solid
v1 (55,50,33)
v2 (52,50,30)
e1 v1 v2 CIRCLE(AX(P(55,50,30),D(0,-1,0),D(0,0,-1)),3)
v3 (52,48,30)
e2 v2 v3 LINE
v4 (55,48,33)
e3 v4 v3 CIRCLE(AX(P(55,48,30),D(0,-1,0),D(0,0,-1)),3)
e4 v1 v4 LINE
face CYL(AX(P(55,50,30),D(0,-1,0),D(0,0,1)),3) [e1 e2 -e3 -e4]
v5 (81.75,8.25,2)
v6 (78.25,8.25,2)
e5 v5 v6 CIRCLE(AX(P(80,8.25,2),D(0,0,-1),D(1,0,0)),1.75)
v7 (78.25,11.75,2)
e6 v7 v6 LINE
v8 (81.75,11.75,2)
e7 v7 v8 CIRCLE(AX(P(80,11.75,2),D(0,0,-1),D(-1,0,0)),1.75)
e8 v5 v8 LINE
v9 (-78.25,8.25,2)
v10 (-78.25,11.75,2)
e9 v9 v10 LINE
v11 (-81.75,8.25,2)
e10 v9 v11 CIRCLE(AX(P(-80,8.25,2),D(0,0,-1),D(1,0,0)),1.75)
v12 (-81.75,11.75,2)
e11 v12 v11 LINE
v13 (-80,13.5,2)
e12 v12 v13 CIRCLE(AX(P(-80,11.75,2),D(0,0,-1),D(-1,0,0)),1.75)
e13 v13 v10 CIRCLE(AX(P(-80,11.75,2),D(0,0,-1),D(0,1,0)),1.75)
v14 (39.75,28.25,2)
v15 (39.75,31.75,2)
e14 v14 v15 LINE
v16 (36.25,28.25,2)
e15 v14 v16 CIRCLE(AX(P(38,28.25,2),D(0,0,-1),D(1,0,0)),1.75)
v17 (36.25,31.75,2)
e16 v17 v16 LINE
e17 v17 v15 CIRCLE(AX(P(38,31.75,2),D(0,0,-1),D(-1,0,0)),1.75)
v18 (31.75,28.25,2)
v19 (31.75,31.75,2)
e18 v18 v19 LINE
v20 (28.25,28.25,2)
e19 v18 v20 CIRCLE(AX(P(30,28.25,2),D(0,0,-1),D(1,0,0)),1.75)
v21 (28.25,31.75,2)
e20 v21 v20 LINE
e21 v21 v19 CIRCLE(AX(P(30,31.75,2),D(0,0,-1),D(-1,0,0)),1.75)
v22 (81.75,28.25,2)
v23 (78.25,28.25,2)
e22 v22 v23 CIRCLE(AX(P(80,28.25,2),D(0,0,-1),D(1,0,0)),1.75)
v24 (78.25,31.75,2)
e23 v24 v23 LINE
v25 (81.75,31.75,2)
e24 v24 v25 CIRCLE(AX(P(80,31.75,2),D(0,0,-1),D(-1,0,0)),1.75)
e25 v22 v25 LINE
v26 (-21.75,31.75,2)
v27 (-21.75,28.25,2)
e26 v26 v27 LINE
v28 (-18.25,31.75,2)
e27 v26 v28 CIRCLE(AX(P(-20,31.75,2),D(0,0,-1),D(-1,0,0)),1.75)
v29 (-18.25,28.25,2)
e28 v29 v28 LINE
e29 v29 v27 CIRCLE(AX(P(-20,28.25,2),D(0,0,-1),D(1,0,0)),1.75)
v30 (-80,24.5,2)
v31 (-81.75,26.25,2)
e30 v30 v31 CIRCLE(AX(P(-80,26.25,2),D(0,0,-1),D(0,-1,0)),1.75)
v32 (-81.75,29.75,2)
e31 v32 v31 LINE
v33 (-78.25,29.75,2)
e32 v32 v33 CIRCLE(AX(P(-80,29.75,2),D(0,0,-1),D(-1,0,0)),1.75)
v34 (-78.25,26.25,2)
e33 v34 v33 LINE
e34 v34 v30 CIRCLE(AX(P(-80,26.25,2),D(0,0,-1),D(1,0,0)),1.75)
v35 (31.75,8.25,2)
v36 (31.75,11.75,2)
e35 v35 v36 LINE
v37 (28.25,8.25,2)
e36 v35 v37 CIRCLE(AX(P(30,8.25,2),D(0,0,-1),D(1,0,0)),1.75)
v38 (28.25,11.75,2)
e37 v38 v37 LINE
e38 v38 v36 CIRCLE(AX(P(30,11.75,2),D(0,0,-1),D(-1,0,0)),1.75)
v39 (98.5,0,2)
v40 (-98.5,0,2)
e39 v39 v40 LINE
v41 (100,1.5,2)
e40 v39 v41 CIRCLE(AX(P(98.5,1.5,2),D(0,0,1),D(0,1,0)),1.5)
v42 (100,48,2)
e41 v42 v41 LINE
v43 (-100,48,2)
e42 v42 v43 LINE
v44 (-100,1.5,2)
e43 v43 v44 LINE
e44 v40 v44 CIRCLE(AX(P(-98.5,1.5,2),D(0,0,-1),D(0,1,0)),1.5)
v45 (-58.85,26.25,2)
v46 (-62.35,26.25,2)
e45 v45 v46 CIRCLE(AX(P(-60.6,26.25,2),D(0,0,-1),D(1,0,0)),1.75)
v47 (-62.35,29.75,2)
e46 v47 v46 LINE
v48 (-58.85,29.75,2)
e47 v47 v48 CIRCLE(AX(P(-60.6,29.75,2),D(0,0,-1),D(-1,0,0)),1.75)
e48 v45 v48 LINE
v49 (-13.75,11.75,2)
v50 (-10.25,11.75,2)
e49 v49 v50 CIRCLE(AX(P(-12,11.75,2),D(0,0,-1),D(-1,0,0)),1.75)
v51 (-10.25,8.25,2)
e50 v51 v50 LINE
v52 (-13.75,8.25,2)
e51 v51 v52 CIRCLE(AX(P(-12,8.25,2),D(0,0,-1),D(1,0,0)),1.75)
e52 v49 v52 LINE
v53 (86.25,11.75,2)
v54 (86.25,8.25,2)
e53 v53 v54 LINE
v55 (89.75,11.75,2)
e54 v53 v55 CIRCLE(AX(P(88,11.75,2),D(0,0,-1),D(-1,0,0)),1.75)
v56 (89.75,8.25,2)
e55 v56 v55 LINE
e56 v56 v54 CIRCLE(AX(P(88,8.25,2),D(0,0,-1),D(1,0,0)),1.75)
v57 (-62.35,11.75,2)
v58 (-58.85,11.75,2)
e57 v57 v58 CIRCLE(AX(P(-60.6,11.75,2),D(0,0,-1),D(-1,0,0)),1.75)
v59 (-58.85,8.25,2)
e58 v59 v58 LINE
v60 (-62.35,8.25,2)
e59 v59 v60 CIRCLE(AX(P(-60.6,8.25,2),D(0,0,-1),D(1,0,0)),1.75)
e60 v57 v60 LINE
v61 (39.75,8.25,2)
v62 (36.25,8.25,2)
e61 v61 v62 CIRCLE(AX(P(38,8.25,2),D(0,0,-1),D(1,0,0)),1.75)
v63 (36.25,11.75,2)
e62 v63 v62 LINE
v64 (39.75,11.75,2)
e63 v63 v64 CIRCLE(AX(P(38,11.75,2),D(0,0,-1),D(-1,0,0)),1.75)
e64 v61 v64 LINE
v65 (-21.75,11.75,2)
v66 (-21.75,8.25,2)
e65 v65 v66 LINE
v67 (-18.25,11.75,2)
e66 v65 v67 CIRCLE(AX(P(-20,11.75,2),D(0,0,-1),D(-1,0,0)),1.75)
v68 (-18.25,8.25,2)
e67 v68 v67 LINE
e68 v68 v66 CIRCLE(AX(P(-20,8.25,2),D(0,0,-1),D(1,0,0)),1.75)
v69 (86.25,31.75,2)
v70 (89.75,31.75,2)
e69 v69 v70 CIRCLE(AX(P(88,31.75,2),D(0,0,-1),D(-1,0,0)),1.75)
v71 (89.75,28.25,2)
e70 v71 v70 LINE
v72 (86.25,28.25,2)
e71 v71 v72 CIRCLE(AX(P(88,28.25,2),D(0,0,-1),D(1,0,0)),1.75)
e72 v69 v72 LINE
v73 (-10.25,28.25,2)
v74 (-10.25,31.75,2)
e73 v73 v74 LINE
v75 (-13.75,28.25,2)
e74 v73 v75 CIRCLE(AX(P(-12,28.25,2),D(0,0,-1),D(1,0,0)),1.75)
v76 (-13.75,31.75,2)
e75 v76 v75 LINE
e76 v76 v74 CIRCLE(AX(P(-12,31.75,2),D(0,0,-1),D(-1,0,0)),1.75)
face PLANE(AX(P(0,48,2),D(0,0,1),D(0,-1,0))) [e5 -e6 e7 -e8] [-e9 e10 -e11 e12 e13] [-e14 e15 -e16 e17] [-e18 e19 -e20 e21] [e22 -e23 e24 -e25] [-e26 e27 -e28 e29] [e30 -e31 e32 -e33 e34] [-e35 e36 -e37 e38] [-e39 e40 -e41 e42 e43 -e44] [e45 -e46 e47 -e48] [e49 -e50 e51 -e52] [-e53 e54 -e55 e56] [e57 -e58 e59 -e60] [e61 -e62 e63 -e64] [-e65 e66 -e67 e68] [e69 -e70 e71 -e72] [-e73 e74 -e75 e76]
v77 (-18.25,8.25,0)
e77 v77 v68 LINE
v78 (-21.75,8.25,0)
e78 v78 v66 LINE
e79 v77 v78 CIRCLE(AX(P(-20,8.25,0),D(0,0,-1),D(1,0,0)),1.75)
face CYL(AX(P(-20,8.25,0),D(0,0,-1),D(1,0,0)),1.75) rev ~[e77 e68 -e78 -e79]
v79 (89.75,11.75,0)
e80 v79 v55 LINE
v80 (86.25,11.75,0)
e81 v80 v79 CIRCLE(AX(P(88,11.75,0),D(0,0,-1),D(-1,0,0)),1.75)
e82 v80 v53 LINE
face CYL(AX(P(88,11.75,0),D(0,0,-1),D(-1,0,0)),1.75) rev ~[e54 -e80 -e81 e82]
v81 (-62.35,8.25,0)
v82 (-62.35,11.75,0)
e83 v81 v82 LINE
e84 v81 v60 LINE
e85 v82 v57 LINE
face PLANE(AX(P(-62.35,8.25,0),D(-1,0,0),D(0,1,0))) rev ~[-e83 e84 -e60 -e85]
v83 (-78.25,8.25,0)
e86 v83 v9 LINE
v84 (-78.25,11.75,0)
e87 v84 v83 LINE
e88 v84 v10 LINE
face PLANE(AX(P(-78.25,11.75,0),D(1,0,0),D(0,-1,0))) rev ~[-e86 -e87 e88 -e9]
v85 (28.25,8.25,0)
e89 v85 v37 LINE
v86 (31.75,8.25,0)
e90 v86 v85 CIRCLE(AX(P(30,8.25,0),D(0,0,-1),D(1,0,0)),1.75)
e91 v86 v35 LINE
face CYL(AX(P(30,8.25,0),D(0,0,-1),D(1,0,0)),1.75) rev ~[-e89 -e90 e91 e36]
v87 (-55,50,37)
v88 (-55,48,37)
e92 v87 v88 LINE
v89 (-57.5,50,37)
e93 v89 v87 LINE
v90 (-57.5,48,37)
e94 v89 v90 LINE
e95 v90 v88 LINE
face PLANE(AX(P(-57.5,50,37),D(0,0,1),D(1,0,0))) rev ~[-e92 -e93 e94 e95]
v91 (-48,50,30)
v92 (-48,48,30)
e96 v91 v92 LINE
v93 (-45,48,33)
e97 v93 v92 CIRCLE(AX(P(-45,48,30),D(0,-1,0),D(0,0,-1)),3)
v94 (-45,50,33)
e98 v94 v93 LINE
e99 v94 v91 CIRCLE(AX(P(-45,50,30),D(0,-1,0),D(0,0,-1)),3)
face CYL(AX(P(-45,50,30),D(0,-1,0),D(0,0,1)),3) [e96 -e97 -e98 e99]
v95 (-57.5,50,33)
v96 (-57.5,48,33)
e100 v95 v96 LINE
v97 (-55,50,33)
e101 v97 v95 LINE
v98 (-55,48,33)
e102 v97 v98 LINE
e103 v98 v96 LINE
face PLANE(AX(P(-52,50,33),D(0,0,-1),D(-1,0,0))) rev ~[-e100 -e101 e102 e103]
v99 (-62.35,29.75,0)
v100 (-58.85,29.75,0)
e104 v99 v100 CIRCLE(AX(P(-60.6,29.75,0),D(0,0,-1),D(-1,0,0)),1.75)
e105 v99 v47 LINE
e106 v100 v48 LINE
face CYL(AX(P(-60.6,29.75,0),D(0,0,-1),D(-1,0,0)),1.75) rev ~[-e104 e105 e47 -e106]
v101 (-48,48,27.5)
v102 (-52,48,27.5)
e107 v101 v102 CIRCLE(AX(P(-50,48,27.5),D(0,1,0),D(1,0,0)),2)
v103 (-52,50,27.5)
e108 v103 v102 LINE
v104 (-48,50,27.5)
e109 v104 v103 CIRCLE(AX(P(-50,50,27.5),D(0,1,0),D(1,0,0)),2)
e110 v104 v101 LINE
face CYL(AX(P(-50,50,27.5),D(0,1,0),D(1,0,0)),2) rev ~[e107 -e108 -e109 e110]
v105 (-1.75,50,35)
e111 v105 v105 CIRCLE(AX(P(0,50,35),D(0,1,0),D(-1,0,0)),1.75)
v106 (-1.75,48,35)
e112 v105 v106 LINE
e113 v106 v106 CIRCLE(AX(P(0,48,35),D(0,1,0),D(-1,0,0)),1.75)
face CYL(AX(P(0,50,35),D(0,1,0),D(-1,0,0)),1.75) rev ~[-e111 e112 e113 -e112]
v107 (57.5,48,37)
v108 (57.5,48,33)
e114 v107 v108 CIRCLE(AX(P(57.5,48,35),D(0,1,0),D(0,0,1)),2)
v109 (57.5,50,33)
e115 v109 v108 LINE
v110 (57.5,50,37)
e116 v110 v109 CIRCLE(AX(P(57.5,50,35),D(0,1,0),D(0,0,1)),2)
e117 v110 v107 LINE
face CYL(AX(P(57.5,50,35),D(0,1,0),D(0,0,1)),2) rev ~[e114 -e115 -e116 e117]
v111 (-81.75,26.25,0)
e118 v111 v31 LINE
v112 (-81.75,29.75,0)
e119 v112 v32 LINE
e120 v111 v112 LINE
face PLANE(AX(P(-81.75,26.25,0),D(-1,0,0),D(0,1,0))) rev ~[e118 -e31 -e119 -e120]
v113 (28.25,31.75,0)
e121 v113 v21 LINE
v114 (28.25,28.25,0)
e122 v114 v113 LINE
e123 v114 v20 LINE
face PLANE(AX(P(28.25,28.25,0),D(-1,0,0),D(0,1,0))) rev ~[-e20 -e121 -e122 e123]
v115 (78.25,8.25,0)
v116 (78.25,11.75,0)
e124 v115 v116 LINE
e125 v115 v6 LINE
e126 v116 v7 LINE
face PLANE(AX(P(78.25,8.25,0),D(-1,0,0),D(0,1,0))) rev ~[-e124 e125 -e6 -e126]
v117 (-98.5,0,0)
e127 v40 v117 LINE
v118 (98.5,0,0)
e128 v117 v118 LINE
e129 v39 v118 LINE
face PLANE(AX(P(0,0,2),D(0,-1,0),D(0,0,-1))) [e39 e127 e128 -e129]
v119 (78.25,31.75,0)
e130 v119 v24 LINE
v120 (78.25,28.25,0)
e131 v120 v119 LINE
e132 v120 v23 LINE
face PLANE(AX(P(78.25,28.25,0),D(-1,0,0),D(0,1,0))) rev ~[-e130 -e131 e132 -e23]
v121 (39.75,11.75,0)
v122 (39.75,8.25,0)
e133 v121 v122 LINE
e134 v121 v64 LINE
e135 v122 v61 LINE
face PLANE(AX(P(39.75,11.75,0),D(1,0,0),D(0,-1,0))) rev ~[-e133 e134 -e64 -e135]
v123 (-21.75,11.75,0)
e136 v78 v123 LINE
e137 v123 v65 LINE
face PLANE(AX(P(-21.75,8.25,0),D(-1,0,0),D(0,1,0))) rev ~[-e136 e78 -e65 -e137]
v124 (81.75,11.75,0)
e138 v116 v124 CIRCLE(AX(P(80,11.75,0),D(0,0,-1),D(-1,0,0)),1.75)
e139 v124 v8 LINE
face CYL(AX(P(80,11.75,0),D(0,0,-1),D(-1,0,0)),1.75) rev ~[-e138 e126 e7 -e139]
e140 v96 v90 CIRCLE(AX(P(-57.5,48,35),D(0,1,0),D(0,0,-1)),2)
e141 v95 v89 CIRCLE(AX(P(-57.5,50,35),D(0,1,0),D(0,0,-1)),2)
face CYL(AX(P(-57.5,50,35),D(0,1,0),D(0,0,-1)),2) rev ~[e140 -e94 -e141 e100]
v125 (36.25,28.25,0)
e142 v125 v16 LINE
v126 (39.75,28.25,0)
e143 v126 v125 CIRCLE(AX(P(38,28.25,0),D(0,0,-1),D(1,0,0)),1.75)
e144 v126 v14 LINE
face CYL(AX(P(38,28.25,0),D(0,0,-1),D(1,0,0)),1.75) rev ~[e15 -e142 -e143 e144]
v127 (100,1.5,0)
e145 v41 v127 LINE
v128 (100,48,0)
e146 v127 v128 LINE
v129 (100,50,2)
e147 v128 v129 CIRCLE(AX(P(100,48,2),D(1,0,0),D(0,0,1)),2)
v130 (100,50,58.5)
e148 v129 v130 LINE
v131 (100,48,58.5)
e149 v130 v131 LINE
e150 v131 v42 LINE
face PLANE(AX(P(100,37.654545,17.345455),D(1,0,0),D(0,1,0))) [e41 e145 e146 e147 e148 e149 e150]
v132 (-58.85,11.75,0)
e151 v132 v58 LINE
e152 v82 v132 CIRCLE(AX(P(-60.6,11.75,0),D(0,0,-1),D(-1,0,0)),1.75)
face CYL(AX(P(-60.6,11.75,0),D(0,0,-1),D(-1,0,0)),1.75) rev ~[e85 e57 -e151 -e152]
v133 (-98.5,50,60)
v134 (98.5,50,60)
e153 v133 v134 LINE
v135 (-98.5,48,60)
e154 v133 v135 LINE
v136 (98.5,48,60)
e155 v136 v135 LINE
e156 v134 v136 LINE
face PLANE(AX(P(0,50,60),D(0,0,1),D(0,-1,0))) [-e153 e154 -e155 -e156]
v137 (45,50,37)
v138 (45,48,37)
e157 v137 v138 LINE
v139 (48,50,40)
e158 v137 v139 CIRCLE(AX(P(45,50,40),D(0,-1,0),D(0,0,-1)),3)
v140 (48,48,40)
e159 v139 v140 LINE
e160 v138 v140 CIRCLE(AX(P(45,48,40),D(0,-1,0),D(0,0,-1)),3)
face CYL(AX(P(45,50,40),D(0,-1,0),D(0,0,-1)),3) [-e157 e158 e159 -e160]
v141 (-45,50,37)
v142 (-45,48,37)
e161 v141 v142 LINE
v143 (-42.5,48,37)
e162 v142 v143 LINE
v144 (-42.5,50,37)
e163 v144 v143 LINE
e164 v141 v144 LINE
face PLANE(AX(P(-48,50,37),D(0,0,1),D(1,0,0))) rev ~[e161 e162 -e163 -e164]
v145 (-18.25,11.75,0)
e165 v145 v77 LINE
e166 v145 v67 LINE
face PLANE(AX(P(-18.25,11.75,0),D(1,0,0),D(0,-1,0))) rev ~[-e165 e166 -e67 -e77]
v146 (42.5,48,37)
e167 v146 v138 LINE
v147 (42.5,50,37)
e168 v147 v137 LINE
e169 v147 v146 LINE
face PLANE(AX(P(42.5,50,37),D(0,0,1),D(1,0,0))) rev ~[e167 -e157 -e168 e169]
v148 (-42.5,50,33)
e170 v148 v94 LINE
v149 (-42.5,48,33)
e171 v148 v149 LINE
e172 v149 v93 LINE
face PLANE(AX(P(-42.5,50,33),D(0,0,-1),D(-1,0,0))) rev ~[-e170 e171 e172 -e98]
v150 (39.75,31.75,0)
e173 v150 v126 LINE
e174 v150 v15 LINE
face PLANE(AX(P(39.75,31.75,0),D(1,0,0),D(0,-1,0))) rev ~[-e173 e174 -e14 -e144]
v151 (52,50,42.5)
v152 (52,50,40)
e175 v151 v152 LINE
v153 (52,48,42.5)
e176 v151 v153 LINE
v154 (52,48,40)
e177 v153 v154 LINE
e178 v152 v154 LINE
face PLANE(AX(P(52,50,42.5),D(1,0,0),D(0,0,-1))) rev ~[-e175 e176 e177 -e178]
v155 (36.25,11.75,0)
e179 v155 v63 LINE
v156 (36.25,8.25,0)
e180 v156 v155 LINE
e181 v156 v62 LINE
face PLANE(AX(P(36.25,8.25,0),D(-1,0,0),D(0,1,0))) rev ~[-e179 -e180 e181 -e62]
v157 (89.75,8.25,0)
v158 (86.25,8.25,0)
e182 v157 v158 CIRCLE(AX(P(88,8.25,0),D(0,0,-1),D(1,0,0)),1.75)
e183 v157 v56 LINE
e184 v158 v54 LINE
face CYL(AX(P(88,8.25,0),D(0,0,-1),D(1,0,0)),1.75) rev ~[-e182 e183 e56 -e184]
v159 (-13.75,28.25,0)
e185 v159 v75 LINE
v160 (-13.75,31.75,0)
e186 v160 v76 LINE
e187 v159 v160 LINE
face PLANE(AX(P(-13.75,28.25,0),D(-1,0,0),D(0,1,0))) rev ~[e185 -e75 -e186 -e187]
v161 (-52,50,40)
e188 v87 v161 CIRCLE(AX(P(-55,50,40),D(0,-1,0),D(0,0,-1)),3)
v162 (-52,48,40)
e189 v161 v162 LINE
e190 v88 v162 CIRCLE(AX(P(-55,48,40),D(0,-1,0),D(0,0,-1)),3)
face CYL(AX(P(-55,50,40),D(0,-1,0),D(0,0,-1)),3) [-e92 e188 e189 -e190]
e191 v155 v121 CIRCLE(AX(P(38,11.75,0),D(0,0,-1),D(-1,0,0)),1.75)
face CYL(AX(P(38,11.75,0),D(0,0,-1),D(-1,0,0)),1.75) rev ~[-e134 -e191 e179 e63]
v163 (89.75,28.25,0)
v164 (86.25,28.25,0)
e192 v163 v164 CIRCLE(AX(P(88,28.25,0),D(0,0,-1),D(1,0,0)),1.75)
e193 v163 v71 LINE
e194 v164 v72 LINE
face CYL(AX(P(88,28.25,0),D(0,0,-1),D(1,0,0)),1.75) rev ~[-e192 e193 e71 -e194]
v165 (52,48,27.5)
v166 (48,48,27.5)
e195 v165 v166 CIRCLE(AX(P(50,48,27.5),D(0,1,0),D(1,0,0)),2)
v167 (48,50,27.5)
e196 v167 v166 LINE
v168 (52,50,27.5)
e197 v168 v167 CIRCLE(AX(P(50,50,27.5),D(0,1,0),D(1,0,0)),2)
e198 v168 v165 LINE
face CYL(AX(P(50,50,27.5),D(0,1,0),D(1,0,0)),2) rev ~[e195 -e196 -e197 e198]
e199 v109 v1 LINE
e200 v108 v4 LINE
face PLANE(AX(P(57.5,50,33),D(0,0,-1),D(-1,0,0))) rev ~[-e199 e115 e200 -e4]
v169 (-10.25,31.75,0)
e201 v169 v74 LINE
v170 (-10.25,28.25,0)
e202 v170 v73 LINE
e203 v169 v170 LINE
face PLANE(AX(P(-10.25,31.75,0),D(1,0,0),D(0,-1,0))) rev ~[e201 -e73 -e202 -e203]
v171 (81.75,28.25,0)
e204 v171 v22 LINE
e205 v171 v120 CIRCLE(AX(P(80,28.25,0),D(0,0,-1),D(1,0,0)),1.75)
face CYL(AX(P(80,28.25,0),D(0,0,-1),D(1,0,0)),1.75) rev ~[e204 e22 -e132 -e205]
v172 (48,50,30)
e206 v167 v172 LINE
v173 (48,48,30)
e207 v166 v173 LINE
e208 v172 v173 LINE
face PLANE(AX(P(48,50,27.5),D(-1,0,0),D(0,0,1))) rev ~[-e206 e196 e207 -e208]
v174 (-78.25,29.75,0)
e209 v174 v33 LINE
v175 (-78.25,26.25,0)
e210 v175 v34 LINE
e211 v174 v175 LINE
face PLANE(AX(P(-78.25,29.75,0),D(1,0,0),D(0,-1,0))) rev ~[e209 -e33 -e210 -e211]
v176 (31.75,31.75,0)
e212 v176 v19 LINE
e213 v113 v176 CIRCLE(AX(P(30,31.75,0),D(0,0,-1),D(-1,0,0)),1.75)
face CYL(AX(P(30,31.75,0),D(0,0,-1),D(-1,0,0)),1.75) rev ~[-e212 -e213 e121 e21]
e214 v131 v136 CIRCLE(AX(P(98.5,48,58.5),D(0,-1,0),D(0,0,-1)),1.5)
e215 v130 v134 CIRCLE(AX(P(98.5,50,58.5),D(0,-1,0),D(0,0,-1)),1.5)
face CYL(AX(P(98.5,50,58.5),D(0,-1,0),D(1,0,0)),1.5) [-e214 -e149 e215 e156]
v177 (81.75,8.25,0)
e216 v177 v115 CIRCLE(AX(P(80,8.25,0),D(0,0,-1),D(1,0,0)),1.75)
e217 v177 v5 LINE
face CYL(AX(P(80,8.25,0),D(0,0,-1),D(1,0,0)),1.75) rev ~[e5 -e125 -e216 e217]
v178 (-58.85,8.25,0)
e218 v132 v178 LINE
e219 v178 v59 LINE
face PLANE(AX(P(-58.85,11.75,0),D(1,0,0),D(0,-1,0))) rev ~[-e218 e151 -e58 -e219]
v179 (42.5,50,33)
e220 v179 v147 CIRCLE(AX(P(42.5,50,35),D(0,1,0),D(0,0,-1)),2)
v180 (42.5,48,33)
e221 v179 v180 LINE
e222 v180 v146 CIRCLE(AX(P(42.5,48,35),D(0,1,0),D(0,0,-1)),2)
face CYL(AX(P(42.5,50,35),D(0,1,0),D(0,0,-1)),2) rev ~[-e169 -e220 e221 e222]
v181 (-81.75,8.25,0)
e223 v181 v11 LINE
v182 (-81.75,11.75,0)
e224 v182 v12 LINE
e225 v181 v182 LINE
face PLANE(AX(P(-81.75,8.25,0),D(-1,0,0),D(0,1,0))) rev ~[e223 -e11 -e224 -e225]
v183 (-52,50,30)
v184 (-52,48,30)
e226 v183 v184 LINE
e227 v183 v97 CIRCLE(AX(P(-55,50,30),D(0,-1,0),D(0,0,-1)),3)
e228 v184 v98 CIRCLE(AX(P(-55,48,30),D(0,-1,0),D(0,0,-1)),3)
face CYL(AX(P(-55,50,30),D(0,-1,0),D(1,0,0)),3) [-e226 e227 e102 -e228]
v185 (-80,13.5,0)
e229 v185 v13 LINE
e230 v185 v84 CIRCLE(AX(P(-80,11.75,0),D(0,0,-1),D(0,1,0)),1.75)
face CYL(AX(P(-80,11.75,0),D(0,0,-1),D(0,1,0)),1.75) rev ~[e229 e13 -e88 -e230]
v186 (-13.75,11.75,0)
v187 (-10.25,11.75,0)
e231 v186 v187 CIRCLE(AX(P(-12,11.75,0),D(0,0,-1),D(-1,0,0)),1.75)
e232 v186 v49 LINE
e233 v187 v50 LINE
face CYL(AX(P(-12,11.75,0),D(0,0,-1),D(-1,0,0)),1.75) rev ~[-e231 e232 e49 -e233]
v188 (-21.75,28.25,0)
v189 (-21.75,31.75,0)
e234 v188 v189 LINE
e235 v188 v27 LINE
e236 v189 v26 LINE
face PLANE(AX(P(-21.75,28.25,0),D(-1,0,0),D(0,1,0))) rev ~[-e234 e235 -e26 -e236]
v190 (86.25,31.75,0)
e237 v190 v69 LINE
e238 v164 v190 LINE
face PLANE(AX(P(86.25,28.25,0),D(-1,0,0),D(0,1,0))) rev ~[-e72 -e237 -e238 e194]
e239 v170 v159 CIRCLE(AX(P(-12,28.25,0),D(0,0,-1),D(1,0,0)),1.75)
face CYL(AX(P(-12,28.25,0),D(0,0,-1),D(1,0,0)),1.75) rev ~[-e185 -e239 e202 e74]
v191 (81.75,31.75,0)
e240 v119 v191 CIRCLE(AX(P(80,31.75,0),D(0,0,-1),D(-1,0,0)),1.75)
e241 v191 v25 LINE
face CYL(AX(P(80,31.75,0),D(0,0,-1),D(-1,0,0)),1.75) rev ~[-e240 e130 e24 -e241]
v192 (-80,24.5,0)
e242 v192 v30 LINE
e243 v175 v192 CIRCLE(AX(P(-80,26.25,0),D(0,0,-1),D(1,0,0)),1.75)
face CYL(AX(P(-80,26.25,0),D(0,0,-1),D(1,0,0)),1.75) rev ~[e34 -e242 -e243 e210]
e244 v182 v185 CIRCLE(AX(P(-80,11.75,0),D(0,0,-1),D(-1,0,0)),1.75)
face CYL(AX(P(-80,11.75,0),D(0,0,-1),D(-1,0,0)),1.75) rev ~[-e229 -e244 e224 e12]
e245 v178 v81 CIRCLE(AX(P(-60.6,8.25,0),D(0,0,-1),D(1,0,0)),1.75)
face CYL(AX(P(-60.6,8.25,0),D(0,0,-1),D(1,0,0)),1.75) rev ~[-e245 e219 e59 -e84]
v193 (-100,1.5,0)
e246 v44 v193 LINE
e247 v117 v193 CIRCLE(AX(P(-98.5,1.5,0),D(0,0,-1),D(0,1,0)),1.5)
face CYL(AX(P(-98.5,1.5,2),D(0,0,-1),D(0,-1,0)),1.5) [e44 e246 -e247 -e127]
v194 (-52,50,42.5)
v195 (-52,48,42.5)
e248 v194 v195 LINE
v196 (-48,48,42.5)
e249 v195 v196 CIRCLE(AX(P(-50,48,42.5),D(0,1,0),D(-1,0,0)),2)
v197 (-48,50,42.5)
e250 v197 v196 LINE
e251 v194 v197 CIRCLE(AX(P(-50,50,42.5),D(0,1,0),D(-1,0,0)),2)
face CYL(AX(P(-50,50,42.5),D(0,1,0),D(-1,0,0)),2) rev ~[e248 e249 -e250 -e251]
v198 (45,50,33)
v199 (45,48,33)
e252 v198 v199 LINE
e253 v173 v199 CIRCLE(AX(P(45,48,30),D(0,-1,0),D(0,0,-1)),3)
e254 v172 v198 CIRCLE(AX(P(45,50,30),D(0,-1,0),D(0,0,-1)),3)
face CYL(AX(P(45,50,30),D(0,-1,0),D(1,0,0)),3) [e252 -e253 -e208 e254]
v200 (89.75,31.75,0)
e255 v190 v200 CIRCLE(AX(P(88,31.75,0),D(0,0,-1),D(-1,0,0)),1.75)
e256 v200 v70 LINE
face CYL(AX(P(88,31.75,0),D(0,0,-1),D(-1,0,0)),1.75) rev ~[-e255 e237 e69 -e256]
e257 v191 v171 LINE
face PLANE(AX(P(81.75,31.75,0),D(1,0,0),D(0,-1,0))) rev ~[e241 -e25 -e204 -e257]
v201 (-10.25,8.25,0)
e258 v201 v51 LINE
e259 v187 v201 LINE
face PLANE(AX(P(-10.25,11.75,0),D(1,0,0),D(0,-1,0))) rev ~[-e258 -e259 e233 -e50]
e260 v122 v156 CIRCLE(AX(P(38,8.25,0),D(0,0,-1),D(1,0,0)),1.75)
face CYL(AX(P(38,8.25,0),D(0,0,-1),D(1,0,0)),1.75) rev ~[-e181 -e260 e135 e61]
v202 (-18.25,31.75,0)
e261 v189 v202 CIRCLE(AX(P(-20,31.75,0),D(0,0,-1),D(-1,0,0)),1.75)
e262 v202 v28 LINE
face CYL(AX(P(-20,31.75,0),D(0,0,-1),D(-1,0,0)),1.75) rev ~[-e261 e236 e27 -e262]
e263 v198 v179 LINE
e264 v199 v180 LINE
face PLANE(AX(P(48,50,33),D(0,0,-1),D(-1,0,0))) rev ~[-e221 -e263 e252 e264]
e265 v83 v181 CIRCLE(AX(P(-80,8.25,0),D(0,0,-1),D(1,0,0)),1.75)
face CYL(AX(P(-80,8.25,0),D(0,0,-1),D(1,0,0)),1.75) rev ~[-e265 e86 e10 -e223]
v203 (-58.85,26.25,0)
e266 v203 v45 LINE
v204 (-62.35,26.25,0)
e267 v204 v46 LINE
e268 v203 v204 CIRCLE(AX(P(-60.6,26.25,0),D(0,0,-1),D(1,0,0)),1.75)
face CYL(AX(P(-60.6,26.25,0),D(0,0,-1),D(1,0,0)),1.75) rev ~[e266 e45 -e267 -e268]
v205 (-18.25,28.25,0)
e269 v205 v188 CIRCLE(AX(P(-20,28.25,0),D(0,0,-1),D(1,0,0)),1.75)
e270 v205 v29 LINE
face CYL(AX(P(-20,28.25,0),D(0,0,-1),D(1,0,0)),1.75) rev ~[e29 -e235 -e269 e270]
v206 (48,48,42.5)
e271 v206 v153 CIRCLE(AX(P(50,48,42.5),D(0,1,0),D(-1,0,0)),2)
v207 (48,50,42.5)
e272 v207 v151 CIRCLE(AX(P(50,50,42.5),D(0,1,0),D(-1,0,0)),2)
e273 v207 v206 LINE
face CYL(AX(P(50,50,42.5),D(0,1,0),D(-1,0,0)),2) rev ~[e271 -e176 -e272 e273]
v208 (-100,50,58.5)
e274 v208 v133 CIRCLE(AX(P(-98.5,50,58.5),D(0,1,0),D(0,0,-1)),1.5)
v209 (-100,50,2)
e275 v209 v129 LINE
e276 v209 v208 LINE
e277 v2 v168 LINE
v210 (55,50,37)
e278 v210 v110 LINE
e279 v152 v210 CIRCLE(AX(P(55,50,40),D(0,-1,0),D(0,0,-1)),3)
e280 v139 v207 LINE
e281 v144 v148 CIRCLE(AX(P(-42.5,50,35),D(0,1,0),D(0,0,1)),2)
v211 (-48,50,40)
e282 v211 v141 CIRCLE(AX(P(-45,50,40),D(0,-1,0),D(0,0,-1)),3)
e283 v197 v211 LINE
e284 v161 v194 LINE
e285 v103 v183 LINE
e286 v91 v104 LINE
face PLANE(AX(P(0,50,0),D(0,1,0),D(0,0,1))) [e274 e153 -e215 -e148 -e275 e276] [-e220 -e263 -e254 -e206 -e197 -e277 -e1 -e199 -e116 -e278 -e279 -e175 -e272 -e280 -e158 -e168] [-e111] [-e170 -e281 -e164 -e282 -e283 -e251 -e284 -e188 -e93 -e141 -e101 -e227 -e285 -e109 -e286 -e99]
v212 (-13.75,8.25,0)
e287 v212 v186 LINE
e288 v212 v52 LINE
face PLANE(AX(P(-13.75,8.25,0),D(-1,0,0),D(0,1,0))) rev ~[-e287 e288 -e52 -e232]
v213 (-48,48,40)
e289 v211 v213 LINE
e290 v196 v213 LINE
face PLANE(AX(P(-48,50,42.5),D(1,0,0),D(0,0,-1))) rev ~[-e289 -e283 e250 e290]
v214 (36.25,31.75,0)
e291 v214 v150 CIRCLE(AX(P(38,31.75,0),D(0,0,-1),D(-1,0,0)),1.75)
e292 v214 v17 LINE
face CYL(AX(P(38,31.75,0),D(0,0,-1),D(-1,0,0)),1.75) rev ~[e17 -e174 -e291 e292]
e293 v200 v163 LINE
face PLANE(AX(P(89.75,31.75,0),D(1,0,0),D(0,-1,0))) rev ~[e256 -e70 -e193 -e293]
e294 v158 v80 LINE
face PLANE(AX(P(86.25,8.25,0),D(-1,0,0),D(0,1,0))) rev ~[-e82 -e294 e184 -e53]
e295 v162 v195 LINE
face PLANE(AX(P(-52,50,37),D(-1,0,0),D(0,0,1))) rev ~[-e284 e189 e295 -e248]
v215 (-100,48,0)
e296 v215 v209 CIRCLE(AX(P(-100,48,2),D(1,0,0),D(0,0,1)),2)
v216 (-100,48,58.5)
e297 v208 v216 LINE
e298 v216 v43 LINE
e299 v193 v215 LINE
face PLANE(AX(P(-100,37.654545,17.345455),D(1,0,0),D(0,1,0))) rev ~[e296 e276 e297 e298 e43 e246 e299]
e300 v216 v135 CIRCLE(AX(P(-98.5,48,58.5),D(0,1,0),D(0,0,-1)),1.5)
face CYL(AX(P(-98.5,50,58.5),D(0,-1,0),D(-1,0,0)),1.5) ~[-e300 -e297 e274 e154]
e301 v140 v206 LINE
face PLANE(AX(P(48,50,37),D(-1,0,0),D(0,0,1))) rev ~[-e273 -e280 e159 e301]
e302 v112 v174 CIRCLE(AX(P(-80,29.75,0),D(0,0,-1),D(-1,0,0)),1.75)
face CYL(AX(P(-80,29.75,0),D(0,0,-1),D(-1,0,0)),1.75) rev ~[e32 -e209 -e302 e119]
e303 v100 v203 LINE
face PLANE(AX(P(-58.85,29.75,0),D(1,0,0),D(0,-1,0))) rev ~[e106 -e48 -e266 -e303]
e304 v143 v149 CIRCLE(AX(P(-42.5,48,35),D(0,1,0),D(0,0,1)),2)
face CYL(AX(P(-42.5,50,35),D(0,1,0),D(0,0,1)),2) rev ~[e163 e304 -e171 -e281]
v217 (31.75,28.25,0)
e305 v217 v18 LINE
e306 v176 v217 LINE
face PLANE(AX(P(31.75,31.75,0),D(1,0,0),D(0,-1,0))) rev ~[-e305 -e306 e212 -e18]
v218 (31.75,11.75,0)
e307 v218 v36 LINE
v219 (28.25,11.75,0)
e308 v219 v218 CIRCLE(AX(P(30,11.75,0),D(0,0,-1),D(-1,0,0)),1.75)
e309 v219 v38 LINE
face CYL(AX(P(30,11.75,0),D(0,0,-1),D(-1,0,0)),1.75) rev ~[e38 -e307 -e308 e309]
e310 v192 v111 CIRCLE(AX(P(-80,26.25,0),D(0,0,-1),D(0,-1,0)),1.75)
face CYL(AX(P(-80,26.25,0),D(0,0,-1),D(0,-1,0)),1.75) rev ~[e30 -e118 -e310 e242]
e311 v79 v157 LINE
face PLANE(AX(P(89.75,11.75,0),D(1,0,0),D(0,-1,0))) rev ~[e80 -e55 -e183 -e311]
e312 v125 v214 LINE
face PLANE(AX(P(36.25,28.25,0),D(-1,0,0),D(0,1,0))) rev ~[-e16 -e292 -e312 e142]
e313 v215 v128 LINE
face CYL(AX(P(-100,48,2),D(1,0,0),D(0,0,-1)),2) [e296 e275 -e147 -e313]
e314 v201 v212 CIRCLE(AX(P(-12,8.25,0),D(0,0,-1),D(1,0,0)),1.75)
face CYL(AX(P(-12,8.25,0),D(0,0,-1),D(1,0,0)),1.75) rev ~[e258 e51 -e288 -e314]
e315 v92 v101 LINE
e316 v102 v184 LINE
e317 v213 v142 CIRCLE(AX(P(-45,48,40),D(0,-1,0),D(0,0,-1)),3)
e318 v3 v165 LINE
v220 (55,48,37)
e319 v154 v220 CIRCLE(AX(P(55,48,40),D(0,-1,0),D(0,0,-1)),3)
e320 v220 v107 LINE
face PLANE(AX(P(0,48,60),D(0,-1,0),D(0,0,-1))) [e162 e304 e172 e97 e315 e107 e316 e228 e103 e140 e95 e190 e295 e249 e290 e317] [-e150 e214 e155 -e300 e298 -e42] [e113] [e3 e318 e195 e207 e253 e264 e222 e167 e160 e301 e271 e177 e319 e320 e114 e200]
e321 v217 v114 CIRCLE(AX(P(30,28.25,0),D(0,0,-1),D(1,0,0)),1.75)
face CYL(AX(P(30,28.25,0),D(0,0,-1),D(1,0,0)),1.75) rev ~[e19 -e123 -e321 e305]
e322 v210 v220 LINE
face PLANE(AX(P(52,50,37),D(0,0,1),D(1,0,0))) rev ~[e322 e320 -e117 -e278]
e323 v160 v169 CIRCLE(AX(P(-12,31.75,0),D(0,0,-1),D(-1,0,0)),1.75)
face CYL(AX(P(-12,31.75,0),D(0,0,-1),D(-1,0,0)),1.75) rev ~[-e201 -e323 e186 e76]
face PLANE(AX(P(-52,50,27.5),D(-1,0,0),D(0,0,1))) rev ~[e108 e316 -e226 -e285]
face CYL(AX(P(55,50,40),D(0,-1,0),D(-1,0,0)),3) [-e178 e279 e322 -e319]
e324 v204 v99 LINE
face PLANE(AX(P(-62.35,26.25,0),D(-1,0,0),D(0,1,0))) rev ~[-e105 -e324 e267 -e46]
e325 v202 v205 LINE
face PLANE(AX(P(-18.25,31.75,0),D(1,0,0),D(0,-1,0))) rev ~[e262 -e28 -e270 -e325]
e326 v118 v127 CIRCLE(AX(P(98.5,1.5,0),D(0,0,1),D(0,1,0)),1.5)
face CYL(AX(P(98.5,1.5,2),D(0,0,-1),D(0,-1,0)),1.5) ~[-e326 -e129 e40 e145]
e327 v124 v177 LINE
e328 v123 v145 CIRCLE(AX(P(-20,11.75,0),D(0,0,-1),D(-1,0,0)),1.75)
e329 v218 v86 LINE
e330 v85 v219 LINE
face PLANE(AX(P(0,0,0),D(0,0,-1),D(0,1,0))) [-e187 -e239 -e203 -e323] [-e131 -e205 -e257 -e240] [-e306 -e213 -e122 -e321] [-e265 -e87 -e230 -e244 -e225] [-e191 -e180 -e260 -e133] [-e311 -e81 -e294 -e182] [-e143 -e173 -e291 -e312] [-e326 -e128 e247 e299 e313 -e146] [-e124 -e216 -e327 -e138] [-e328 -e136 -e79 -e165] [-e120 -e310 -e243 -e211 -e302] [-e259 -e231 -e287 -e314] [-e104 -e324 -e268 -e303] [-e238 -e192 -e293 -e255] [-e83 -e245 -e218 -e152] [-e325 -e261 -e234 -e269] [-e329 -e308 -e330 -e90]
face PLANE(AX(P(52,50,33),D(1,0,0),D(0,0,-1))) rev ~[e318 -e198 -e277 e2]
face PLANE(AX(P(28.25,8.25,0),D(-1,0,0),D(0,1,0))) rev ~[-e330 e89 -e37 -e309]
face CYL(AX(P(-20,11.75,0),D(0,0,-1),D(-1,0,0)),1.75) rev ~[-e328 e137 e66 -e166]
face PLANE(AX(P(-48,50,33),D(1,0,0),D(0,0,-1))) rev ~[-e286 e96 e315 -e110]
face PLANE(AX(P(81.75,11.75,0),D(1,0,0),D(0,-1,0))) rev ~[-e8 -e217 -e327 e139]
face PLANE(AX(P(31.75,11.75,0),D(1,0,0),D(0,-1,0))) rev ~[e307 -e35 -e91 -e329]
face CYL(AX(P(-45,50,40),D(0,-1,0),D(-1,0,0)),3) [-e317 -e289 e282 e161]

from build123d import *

# Parameters (mm, degrees)
F1_DEPTH = 100
F3_DEPTH = 60.001
F4_R     = 1.5
F5_R     = 2
F6_R     = 1.75
F6_W     = 2
F6_H     = 2
F7_DEPTH = 2
F8_R     = 3


with BuildPart() as f1:
    # F0 (on Right) → F1 (new body, symmetric)
    with BuildSketch(Plane.YZ):
        Polygon((0, 2), (0, 0), (50, 0), (50, 60), (48, 60), (48, 2), align=None)
    extrude(amount=F1_DEPTH, both=True)

    # F2 (on face) → F3 (cut, through all)
    with BuildSketch(Plane(origin=(0, 0, 0), x_dir=(1, 0, 0), z_dir=(0, 0, -1))):
        with BuildLine():
            Line((-18.25, -11.75), (-18.25, -10))
            Line((-18.25, -10), (-18.25, -8.25))
            ThreePointArc((-18.25, -8.25), (-20, -6.5), (-21.75, -8.25))
            Line((-21.75, -8.25), (-21.75, -11.75))
            ThreePointArc((-21.75, -11.75), (-20, -13.5), (-18.25, -11.75))
        make_face()
        with BuildLine():
            Line((-13.75, -8.25), (-13.75, -10))
            Line((-13.75, -10), (-13.75, -11.75))
            ThreePointArc((-13.75, -11.75), (-12, -13.5), (-10.25, -11.75))
            Line((-10.25, -11.75), (-10.25, -8.25))
            ThreePointArc((-10.25, -8.25), (-12, -6.5), (-13.75, -8.25))
        make_face()
        with BuildLine():
            ThreePointArc((-21.75, -31.75), (-20, -33.5), (-18.25, -31.75))
            Line((-18.25, -31.75), (-18.25, -28.25))
            ThreePointArc((-18.25, -28.25), (-20, -26.5), (-21.75, -28.25))
            Line((-21.75, -28.25), (-21.75, -31.75))
        make_face()
        with BuildLine():
            Line((-10.25, -31.75), (-10.25, -28.25))
            ThreePointArc((-10.25, -28.25), (-12, -26.5), (-13.75, -28.25))
            Line((-13.75, -28.25), (-13.75, -31.75))
            ThreePointArc((-13.75, -31.75), (-12, -33.5), (-10.25, -31.75))
        make_face()
        with BuildLine():
            Line((31.75, -10), (31.75, -8.25))
            ThreePointArc((31.75, -8.25), (30, -6.5), (28.25, -8.25))
            Line((28.25, -8.25), (28.25, -11.75))
            ThreePointArc((28.25, -11.75), (30, -13.5), (31.75, -11.75))
            Line((31.75, -11.75), (31.75, -10))
        make_face()
        with BuildLine():
            Line((39.75, -11.75), (39.75, -8.25))
            ThreePointArc((39.75, -8.25), (38, -6.5), (36.25, -8.25))
            Line((36.25, -8.25), (36.25, -10))
            Line((36.25, -10), (36.25, -11.75))
            ThreePointArc((36.25, -11.75), (38, -13.5), (39.75, -11.75))
        make_face()
        with BuildLine():
            Line((39.75, -31.75), (39.75, -28.25))
            ThreePointArc((39.75, -28.25), (38, -26.5), (36.25, -28.25))
            Line((36.25, -28.25), (36.25, -31.75))
            ThreePointArc((36.25, -31.75), (38, -33.5), (39.75, -31.75))
        make_face()
        with BuildLine():
            ThreePointArc((28.25, -31.75), (30, -33.5), (31.75, -31.75))
            Line((31.75, -31.75), (31.75, -28.25))
            ThreePointArc((31.75, -28.25), (30, -26.5), (28.25, -28.25))
            Line((28.25, -28.25), (28.25, -31.75))
        make_face()
        with BuildLine():
            Line((81.75, -10), (81.75, -8.25))
            ThreePointArc((81.75, -8.25), (80, -6.5), (78.25, -8.25))
            Line((78.25, -8.25), (78.25, -11.75))
            ThreePointArc((78.25, -11.75), (80, -13.5), (81.75, -11.75))
            Line((81.75, -11.75), (81.75, -10))
        make_face()
        with BuildLine():
            Line((89.75, -11.75), (89.75, -8.25))
            ThreePointArc((89.75, -8.25), (88, -6.5), (86.25, -8.25))
            Line((86.25, -8.25), (86.25, -10))
            Line((86.25, -10), (86.25, -11.75))
            ThreePointArc((86.25, -11.75), (88, -13.5), (89.75, -11.75))
        make_face()
        with BuildLine():
            ThreePointArc((78.25, -31.75), (80, -33.5), (81.75, -31.75))
            Line((81.75, -31.75), (81.75, -28.25))
            ThreePointArc((81.75, -28.25), (80, -26.5), (78.25, -28.25))
            Line((78.25, -28.25), (78.25, -31.75))
        make_face()
        with BuildLine():
            Line((89.75, -31.75), (89.75, -28.25))
            ThreePointArc((89.75, -28.25), (88, -26.5), (86.25, -28.25))
            Line((86.25, -28.25), (86.25, -31.75))
            ThreePointArc((86.25, -31.75), (88, -33.5), (89.75, -31.75))
        make_face()
        with BuildLine():
            ThreePointArc((-81.75, -11.75), (-81.2374368671, -12.9874368671), (-80, -13.5))
            ThreePointArc((-80, -13.5), (-78.7625631329, -12.9874368671), (-78.25, -11.75))
            Line((-78.25, -11.75), (-78.25, -8.25))
            ThreePointArc((-78.25, -8.25), (-80, -6.5), (-81.75, -8.25))
            Line((-81.75, -8.25), (-81.75, -11.75))
        make_face()
        with BuildLine():
            Line((-78.25, -29.75), (-78.25, -28))
            Line((-78.25, -28), (-78.25, -26.25))
            ThreePointArc((-78.25, -26.25), (-78.7625631329, -25.0125631329), (-80, -24.5))
            ThreePointArc((-80, -24.5), (-81.2374368671, -25.0125631329), (-81.75, -26.25))
            Line((-81.75, -26.25), (-81.75, -29.75))
            ThreePointArc((-81.75, -29.75), (-80, -31.5), (-78.25, -29.75))
        make_face()
        with BuildLine():
            Line((-62.35, -26.25), (-62.35, -28))
            Line((-62.35, -28), (-62.35, -29.75))
            ThreePointArc((-62.35, -29.75), (-60.6, -31.5), (-58.85, -29.75))
            Line((-58.85, -29.75), (-58.85, -26.25))
            ThreePointArc((-58.85, -26.25), (-60.6, -24.5), (-62.35, -26.25))
        make_face()
        with BuildLine():
            Line((-62.35, -10), (-62.35, -11.75))
            ThreePointArc((-62.35, -11.75), (-60.6, -13.5), (-58.85, -11.75))
            Line((-58.85, -11.75), (-58.85, -8.25))
            ThreePointArc((-58.85, -8.25), (-60.6, -6.5), (-62.35, -8.25))
            Line((-62.35, -8.25), (-62.35, -10))
        make_face()
    extrude(amount=-F3_DEPTH, mode=Mode.SUBTRACT)

    # F4
    f4_edges = [f1.edges().sort_by_distance(p)[0] for p in [
        (100, 0, 1),
        (100, 49, 60),
        (-100, 0, 1),
        (-100, 49, 60),
    ]]
    fillet(f4_edges, radius=F4_R)

    # F5
    f5_edges = [f1.edges().sort_by_distance(p)[0] for p in [
        (0, 50, 0),
    ]]
    fillet(f5_edges, radius=F5_R)

    # F6 (on face) → F7 (cut)
    with BuildSketch(Plane(origin=(0, 50, 0), x_dir=(-1, 0, 0), z_dir=(0, 1, 0))):
        with Locations((0, 35)):
            Circle(F6_R)
        with Locations((-49, 34)):
            Rectangle(F6_W, F6_H)
        with BuildLine():
            Line((-48, 37), (-48, 35))
            Line((-48, 35), (-48, 33))
            Line((-48, 33), (-42.5, 33))
            ThreePointArc((-42.5, 33), (-40.5, 35), (-42.5, 37))
            Line((-42.5, 37), (-48, 37))
        make_face()
        with Locations((-49, 36)):
            Rectangle(F6_W, F6_H)
        with Locations((-51, 34)):
            Rectangle(F6_W, F6_H)
        with Locations((-51, 36)):
            Rectangle(F6_W, F6_H)
        with BuildLine():
            Line((-48, 27.5), (-48, 33))
            Line((-48, 33), (-50, 33))
            Line((-50, 33), (-52, 33))
            Line((-52, 33), (-52, 27.5))
            ThreePointArc((-52, 27.5), (-50, 25.5), (-48, 27.5))
        make_face()
        with BuildLine():
            Line((-50, 37), (-48, 37))
            Line((-48, 37), (-48, 42.5))
            ThreePointArc((-48, 42.5), (-50, 44.5), (-52, 42.5))
            Line((-52, 42.5), (-52, 37))
            Line((-52, 37), (-50, 37))
        make_face()
        with BuildLine():
            Line((-52, 33), (-52, 35))
            Line((-52, 35), (-52, 37))
            Line((-52, 37), (-57.5, 37))
            ThreePointArc((-57.5, 37), (-59.5, 35), (-57.5, 33))
            Line((-57.5, 33), (-52, 33))
        make_face()
        with BuildLine():
            ThreePointArc((48, 27.5), (50, 25.5), (52, 27.5))
            Line((52, 27.5), (52, 33))
            Line((52, 33), (50, 33))
            Line((50, 33), (48, 33))
            Line((48, 33), (48, 27.5))
        make_face()
        with Locations((51, 34)):
            Rectangle(F6_W, F6_H)
        with BuildLine():
            Line((52, 35), (52, 33))
            Line((52, 33), (57.5, 33))
            ThreePointArc((57.5, 33), (59.5, 35), (57.5, 37))
            Line((57.5, 37), (52, 37))
            Line((52, 37), (52, 35))
        make_face()
        with Locations((51, 36)):
            Rectangle(F6_W, F6_H)
        with Locations((49, 34)):
            Rectangle(F6_W, F6_H)
        with BuildLine():
            Line((42.5, 33), (48, 33))
            Line((48, 33), (48, 35))
            Line((48, 35), (48, 37))
            Line((48, 37), (42.5, 37))
            ThreePointArc((42.5, 37), (40.5, 35), (42.5, 33))
        make_face()
        with BuildLine():
            Line((50, 37), (52, 37))
            Line((52, 37), (52, 42.5))
            ThreePointArc((52, 42.5), (50, 44.5), (48, 42.5))
            Line((48, 42.5), (48, 37))
            Line((48, 37), (50, 37))
        make_face()
        with Locations((49, 36)):
            Rectangle(F6_W, F6_H)
        with BuildLine():
            ThreePointArc((148, 27.5), (150, 25.5), (152, 27.5))
            Line((152, 27.5), (152, 33))
            Line((152, 33), (150, 33))
            Line((150, 33), (148, 33))
            Line((148, 33), (148, 27.5))
        make_face()
        with Locations((151, 34)):
            Rectangle(F6_W, F6_H)
        with BuildLine():
            Line((152, 35), (152, 33))
            Line((152, 33), (157.5, 33))
            ThreePointArc((157.5, 33), (159.5, 35), (157.5, 37))
            Line((157.5, 37), (152, 37))
            Line((152, 37), (152, 35))
        make_face()
        with Locations((151, 36)):
            Rectangle(F6_W, F6_H)
        with Locations((149, 34)):
            Rectangle(F6_W, F6_H)
        with BuildLine():
            Line((142.5, 33), (148, 33))
            Line((148, 33), (148, 35))
            Line((148, 35), (148, 37))
            Line((148, 37), (142.5, 37))
            ThreePointArc((142.5, 37), (140.5, 35), (142.5, 33))
        make_face()
        with BuildLine():
            Line((150, 37), (152, 37))
            Line((152, 37), (152, 42.5))
            ThreePointArc((152, 42.5), (150, 44.5), (148, 42.5))
            Line((148, 42.5), (148, 37))
            Line((148, 37), (150, 37))
        make_face()
        with Locations((149, 36)):
            Rectangle(F6_W, F6_H)
    extrude(amount=-F7_DEPTH, mode=Mode.SUBTRACT)

    # F8
    f8_edges = [f1.edges().sort_by_distance(p)[0] for p in [
        (52, 49, 33),
        (48, 49, 33),
        (48, 49, 37),
        (52, 49, 37),
        (-52, 49, 33),
        (-52, 49, 37),
        (-48, 49, 37),
        (-48, 49, 33),
    ]]
    fillet(f8_edges, radius=F8_R)


solid = f1.part
